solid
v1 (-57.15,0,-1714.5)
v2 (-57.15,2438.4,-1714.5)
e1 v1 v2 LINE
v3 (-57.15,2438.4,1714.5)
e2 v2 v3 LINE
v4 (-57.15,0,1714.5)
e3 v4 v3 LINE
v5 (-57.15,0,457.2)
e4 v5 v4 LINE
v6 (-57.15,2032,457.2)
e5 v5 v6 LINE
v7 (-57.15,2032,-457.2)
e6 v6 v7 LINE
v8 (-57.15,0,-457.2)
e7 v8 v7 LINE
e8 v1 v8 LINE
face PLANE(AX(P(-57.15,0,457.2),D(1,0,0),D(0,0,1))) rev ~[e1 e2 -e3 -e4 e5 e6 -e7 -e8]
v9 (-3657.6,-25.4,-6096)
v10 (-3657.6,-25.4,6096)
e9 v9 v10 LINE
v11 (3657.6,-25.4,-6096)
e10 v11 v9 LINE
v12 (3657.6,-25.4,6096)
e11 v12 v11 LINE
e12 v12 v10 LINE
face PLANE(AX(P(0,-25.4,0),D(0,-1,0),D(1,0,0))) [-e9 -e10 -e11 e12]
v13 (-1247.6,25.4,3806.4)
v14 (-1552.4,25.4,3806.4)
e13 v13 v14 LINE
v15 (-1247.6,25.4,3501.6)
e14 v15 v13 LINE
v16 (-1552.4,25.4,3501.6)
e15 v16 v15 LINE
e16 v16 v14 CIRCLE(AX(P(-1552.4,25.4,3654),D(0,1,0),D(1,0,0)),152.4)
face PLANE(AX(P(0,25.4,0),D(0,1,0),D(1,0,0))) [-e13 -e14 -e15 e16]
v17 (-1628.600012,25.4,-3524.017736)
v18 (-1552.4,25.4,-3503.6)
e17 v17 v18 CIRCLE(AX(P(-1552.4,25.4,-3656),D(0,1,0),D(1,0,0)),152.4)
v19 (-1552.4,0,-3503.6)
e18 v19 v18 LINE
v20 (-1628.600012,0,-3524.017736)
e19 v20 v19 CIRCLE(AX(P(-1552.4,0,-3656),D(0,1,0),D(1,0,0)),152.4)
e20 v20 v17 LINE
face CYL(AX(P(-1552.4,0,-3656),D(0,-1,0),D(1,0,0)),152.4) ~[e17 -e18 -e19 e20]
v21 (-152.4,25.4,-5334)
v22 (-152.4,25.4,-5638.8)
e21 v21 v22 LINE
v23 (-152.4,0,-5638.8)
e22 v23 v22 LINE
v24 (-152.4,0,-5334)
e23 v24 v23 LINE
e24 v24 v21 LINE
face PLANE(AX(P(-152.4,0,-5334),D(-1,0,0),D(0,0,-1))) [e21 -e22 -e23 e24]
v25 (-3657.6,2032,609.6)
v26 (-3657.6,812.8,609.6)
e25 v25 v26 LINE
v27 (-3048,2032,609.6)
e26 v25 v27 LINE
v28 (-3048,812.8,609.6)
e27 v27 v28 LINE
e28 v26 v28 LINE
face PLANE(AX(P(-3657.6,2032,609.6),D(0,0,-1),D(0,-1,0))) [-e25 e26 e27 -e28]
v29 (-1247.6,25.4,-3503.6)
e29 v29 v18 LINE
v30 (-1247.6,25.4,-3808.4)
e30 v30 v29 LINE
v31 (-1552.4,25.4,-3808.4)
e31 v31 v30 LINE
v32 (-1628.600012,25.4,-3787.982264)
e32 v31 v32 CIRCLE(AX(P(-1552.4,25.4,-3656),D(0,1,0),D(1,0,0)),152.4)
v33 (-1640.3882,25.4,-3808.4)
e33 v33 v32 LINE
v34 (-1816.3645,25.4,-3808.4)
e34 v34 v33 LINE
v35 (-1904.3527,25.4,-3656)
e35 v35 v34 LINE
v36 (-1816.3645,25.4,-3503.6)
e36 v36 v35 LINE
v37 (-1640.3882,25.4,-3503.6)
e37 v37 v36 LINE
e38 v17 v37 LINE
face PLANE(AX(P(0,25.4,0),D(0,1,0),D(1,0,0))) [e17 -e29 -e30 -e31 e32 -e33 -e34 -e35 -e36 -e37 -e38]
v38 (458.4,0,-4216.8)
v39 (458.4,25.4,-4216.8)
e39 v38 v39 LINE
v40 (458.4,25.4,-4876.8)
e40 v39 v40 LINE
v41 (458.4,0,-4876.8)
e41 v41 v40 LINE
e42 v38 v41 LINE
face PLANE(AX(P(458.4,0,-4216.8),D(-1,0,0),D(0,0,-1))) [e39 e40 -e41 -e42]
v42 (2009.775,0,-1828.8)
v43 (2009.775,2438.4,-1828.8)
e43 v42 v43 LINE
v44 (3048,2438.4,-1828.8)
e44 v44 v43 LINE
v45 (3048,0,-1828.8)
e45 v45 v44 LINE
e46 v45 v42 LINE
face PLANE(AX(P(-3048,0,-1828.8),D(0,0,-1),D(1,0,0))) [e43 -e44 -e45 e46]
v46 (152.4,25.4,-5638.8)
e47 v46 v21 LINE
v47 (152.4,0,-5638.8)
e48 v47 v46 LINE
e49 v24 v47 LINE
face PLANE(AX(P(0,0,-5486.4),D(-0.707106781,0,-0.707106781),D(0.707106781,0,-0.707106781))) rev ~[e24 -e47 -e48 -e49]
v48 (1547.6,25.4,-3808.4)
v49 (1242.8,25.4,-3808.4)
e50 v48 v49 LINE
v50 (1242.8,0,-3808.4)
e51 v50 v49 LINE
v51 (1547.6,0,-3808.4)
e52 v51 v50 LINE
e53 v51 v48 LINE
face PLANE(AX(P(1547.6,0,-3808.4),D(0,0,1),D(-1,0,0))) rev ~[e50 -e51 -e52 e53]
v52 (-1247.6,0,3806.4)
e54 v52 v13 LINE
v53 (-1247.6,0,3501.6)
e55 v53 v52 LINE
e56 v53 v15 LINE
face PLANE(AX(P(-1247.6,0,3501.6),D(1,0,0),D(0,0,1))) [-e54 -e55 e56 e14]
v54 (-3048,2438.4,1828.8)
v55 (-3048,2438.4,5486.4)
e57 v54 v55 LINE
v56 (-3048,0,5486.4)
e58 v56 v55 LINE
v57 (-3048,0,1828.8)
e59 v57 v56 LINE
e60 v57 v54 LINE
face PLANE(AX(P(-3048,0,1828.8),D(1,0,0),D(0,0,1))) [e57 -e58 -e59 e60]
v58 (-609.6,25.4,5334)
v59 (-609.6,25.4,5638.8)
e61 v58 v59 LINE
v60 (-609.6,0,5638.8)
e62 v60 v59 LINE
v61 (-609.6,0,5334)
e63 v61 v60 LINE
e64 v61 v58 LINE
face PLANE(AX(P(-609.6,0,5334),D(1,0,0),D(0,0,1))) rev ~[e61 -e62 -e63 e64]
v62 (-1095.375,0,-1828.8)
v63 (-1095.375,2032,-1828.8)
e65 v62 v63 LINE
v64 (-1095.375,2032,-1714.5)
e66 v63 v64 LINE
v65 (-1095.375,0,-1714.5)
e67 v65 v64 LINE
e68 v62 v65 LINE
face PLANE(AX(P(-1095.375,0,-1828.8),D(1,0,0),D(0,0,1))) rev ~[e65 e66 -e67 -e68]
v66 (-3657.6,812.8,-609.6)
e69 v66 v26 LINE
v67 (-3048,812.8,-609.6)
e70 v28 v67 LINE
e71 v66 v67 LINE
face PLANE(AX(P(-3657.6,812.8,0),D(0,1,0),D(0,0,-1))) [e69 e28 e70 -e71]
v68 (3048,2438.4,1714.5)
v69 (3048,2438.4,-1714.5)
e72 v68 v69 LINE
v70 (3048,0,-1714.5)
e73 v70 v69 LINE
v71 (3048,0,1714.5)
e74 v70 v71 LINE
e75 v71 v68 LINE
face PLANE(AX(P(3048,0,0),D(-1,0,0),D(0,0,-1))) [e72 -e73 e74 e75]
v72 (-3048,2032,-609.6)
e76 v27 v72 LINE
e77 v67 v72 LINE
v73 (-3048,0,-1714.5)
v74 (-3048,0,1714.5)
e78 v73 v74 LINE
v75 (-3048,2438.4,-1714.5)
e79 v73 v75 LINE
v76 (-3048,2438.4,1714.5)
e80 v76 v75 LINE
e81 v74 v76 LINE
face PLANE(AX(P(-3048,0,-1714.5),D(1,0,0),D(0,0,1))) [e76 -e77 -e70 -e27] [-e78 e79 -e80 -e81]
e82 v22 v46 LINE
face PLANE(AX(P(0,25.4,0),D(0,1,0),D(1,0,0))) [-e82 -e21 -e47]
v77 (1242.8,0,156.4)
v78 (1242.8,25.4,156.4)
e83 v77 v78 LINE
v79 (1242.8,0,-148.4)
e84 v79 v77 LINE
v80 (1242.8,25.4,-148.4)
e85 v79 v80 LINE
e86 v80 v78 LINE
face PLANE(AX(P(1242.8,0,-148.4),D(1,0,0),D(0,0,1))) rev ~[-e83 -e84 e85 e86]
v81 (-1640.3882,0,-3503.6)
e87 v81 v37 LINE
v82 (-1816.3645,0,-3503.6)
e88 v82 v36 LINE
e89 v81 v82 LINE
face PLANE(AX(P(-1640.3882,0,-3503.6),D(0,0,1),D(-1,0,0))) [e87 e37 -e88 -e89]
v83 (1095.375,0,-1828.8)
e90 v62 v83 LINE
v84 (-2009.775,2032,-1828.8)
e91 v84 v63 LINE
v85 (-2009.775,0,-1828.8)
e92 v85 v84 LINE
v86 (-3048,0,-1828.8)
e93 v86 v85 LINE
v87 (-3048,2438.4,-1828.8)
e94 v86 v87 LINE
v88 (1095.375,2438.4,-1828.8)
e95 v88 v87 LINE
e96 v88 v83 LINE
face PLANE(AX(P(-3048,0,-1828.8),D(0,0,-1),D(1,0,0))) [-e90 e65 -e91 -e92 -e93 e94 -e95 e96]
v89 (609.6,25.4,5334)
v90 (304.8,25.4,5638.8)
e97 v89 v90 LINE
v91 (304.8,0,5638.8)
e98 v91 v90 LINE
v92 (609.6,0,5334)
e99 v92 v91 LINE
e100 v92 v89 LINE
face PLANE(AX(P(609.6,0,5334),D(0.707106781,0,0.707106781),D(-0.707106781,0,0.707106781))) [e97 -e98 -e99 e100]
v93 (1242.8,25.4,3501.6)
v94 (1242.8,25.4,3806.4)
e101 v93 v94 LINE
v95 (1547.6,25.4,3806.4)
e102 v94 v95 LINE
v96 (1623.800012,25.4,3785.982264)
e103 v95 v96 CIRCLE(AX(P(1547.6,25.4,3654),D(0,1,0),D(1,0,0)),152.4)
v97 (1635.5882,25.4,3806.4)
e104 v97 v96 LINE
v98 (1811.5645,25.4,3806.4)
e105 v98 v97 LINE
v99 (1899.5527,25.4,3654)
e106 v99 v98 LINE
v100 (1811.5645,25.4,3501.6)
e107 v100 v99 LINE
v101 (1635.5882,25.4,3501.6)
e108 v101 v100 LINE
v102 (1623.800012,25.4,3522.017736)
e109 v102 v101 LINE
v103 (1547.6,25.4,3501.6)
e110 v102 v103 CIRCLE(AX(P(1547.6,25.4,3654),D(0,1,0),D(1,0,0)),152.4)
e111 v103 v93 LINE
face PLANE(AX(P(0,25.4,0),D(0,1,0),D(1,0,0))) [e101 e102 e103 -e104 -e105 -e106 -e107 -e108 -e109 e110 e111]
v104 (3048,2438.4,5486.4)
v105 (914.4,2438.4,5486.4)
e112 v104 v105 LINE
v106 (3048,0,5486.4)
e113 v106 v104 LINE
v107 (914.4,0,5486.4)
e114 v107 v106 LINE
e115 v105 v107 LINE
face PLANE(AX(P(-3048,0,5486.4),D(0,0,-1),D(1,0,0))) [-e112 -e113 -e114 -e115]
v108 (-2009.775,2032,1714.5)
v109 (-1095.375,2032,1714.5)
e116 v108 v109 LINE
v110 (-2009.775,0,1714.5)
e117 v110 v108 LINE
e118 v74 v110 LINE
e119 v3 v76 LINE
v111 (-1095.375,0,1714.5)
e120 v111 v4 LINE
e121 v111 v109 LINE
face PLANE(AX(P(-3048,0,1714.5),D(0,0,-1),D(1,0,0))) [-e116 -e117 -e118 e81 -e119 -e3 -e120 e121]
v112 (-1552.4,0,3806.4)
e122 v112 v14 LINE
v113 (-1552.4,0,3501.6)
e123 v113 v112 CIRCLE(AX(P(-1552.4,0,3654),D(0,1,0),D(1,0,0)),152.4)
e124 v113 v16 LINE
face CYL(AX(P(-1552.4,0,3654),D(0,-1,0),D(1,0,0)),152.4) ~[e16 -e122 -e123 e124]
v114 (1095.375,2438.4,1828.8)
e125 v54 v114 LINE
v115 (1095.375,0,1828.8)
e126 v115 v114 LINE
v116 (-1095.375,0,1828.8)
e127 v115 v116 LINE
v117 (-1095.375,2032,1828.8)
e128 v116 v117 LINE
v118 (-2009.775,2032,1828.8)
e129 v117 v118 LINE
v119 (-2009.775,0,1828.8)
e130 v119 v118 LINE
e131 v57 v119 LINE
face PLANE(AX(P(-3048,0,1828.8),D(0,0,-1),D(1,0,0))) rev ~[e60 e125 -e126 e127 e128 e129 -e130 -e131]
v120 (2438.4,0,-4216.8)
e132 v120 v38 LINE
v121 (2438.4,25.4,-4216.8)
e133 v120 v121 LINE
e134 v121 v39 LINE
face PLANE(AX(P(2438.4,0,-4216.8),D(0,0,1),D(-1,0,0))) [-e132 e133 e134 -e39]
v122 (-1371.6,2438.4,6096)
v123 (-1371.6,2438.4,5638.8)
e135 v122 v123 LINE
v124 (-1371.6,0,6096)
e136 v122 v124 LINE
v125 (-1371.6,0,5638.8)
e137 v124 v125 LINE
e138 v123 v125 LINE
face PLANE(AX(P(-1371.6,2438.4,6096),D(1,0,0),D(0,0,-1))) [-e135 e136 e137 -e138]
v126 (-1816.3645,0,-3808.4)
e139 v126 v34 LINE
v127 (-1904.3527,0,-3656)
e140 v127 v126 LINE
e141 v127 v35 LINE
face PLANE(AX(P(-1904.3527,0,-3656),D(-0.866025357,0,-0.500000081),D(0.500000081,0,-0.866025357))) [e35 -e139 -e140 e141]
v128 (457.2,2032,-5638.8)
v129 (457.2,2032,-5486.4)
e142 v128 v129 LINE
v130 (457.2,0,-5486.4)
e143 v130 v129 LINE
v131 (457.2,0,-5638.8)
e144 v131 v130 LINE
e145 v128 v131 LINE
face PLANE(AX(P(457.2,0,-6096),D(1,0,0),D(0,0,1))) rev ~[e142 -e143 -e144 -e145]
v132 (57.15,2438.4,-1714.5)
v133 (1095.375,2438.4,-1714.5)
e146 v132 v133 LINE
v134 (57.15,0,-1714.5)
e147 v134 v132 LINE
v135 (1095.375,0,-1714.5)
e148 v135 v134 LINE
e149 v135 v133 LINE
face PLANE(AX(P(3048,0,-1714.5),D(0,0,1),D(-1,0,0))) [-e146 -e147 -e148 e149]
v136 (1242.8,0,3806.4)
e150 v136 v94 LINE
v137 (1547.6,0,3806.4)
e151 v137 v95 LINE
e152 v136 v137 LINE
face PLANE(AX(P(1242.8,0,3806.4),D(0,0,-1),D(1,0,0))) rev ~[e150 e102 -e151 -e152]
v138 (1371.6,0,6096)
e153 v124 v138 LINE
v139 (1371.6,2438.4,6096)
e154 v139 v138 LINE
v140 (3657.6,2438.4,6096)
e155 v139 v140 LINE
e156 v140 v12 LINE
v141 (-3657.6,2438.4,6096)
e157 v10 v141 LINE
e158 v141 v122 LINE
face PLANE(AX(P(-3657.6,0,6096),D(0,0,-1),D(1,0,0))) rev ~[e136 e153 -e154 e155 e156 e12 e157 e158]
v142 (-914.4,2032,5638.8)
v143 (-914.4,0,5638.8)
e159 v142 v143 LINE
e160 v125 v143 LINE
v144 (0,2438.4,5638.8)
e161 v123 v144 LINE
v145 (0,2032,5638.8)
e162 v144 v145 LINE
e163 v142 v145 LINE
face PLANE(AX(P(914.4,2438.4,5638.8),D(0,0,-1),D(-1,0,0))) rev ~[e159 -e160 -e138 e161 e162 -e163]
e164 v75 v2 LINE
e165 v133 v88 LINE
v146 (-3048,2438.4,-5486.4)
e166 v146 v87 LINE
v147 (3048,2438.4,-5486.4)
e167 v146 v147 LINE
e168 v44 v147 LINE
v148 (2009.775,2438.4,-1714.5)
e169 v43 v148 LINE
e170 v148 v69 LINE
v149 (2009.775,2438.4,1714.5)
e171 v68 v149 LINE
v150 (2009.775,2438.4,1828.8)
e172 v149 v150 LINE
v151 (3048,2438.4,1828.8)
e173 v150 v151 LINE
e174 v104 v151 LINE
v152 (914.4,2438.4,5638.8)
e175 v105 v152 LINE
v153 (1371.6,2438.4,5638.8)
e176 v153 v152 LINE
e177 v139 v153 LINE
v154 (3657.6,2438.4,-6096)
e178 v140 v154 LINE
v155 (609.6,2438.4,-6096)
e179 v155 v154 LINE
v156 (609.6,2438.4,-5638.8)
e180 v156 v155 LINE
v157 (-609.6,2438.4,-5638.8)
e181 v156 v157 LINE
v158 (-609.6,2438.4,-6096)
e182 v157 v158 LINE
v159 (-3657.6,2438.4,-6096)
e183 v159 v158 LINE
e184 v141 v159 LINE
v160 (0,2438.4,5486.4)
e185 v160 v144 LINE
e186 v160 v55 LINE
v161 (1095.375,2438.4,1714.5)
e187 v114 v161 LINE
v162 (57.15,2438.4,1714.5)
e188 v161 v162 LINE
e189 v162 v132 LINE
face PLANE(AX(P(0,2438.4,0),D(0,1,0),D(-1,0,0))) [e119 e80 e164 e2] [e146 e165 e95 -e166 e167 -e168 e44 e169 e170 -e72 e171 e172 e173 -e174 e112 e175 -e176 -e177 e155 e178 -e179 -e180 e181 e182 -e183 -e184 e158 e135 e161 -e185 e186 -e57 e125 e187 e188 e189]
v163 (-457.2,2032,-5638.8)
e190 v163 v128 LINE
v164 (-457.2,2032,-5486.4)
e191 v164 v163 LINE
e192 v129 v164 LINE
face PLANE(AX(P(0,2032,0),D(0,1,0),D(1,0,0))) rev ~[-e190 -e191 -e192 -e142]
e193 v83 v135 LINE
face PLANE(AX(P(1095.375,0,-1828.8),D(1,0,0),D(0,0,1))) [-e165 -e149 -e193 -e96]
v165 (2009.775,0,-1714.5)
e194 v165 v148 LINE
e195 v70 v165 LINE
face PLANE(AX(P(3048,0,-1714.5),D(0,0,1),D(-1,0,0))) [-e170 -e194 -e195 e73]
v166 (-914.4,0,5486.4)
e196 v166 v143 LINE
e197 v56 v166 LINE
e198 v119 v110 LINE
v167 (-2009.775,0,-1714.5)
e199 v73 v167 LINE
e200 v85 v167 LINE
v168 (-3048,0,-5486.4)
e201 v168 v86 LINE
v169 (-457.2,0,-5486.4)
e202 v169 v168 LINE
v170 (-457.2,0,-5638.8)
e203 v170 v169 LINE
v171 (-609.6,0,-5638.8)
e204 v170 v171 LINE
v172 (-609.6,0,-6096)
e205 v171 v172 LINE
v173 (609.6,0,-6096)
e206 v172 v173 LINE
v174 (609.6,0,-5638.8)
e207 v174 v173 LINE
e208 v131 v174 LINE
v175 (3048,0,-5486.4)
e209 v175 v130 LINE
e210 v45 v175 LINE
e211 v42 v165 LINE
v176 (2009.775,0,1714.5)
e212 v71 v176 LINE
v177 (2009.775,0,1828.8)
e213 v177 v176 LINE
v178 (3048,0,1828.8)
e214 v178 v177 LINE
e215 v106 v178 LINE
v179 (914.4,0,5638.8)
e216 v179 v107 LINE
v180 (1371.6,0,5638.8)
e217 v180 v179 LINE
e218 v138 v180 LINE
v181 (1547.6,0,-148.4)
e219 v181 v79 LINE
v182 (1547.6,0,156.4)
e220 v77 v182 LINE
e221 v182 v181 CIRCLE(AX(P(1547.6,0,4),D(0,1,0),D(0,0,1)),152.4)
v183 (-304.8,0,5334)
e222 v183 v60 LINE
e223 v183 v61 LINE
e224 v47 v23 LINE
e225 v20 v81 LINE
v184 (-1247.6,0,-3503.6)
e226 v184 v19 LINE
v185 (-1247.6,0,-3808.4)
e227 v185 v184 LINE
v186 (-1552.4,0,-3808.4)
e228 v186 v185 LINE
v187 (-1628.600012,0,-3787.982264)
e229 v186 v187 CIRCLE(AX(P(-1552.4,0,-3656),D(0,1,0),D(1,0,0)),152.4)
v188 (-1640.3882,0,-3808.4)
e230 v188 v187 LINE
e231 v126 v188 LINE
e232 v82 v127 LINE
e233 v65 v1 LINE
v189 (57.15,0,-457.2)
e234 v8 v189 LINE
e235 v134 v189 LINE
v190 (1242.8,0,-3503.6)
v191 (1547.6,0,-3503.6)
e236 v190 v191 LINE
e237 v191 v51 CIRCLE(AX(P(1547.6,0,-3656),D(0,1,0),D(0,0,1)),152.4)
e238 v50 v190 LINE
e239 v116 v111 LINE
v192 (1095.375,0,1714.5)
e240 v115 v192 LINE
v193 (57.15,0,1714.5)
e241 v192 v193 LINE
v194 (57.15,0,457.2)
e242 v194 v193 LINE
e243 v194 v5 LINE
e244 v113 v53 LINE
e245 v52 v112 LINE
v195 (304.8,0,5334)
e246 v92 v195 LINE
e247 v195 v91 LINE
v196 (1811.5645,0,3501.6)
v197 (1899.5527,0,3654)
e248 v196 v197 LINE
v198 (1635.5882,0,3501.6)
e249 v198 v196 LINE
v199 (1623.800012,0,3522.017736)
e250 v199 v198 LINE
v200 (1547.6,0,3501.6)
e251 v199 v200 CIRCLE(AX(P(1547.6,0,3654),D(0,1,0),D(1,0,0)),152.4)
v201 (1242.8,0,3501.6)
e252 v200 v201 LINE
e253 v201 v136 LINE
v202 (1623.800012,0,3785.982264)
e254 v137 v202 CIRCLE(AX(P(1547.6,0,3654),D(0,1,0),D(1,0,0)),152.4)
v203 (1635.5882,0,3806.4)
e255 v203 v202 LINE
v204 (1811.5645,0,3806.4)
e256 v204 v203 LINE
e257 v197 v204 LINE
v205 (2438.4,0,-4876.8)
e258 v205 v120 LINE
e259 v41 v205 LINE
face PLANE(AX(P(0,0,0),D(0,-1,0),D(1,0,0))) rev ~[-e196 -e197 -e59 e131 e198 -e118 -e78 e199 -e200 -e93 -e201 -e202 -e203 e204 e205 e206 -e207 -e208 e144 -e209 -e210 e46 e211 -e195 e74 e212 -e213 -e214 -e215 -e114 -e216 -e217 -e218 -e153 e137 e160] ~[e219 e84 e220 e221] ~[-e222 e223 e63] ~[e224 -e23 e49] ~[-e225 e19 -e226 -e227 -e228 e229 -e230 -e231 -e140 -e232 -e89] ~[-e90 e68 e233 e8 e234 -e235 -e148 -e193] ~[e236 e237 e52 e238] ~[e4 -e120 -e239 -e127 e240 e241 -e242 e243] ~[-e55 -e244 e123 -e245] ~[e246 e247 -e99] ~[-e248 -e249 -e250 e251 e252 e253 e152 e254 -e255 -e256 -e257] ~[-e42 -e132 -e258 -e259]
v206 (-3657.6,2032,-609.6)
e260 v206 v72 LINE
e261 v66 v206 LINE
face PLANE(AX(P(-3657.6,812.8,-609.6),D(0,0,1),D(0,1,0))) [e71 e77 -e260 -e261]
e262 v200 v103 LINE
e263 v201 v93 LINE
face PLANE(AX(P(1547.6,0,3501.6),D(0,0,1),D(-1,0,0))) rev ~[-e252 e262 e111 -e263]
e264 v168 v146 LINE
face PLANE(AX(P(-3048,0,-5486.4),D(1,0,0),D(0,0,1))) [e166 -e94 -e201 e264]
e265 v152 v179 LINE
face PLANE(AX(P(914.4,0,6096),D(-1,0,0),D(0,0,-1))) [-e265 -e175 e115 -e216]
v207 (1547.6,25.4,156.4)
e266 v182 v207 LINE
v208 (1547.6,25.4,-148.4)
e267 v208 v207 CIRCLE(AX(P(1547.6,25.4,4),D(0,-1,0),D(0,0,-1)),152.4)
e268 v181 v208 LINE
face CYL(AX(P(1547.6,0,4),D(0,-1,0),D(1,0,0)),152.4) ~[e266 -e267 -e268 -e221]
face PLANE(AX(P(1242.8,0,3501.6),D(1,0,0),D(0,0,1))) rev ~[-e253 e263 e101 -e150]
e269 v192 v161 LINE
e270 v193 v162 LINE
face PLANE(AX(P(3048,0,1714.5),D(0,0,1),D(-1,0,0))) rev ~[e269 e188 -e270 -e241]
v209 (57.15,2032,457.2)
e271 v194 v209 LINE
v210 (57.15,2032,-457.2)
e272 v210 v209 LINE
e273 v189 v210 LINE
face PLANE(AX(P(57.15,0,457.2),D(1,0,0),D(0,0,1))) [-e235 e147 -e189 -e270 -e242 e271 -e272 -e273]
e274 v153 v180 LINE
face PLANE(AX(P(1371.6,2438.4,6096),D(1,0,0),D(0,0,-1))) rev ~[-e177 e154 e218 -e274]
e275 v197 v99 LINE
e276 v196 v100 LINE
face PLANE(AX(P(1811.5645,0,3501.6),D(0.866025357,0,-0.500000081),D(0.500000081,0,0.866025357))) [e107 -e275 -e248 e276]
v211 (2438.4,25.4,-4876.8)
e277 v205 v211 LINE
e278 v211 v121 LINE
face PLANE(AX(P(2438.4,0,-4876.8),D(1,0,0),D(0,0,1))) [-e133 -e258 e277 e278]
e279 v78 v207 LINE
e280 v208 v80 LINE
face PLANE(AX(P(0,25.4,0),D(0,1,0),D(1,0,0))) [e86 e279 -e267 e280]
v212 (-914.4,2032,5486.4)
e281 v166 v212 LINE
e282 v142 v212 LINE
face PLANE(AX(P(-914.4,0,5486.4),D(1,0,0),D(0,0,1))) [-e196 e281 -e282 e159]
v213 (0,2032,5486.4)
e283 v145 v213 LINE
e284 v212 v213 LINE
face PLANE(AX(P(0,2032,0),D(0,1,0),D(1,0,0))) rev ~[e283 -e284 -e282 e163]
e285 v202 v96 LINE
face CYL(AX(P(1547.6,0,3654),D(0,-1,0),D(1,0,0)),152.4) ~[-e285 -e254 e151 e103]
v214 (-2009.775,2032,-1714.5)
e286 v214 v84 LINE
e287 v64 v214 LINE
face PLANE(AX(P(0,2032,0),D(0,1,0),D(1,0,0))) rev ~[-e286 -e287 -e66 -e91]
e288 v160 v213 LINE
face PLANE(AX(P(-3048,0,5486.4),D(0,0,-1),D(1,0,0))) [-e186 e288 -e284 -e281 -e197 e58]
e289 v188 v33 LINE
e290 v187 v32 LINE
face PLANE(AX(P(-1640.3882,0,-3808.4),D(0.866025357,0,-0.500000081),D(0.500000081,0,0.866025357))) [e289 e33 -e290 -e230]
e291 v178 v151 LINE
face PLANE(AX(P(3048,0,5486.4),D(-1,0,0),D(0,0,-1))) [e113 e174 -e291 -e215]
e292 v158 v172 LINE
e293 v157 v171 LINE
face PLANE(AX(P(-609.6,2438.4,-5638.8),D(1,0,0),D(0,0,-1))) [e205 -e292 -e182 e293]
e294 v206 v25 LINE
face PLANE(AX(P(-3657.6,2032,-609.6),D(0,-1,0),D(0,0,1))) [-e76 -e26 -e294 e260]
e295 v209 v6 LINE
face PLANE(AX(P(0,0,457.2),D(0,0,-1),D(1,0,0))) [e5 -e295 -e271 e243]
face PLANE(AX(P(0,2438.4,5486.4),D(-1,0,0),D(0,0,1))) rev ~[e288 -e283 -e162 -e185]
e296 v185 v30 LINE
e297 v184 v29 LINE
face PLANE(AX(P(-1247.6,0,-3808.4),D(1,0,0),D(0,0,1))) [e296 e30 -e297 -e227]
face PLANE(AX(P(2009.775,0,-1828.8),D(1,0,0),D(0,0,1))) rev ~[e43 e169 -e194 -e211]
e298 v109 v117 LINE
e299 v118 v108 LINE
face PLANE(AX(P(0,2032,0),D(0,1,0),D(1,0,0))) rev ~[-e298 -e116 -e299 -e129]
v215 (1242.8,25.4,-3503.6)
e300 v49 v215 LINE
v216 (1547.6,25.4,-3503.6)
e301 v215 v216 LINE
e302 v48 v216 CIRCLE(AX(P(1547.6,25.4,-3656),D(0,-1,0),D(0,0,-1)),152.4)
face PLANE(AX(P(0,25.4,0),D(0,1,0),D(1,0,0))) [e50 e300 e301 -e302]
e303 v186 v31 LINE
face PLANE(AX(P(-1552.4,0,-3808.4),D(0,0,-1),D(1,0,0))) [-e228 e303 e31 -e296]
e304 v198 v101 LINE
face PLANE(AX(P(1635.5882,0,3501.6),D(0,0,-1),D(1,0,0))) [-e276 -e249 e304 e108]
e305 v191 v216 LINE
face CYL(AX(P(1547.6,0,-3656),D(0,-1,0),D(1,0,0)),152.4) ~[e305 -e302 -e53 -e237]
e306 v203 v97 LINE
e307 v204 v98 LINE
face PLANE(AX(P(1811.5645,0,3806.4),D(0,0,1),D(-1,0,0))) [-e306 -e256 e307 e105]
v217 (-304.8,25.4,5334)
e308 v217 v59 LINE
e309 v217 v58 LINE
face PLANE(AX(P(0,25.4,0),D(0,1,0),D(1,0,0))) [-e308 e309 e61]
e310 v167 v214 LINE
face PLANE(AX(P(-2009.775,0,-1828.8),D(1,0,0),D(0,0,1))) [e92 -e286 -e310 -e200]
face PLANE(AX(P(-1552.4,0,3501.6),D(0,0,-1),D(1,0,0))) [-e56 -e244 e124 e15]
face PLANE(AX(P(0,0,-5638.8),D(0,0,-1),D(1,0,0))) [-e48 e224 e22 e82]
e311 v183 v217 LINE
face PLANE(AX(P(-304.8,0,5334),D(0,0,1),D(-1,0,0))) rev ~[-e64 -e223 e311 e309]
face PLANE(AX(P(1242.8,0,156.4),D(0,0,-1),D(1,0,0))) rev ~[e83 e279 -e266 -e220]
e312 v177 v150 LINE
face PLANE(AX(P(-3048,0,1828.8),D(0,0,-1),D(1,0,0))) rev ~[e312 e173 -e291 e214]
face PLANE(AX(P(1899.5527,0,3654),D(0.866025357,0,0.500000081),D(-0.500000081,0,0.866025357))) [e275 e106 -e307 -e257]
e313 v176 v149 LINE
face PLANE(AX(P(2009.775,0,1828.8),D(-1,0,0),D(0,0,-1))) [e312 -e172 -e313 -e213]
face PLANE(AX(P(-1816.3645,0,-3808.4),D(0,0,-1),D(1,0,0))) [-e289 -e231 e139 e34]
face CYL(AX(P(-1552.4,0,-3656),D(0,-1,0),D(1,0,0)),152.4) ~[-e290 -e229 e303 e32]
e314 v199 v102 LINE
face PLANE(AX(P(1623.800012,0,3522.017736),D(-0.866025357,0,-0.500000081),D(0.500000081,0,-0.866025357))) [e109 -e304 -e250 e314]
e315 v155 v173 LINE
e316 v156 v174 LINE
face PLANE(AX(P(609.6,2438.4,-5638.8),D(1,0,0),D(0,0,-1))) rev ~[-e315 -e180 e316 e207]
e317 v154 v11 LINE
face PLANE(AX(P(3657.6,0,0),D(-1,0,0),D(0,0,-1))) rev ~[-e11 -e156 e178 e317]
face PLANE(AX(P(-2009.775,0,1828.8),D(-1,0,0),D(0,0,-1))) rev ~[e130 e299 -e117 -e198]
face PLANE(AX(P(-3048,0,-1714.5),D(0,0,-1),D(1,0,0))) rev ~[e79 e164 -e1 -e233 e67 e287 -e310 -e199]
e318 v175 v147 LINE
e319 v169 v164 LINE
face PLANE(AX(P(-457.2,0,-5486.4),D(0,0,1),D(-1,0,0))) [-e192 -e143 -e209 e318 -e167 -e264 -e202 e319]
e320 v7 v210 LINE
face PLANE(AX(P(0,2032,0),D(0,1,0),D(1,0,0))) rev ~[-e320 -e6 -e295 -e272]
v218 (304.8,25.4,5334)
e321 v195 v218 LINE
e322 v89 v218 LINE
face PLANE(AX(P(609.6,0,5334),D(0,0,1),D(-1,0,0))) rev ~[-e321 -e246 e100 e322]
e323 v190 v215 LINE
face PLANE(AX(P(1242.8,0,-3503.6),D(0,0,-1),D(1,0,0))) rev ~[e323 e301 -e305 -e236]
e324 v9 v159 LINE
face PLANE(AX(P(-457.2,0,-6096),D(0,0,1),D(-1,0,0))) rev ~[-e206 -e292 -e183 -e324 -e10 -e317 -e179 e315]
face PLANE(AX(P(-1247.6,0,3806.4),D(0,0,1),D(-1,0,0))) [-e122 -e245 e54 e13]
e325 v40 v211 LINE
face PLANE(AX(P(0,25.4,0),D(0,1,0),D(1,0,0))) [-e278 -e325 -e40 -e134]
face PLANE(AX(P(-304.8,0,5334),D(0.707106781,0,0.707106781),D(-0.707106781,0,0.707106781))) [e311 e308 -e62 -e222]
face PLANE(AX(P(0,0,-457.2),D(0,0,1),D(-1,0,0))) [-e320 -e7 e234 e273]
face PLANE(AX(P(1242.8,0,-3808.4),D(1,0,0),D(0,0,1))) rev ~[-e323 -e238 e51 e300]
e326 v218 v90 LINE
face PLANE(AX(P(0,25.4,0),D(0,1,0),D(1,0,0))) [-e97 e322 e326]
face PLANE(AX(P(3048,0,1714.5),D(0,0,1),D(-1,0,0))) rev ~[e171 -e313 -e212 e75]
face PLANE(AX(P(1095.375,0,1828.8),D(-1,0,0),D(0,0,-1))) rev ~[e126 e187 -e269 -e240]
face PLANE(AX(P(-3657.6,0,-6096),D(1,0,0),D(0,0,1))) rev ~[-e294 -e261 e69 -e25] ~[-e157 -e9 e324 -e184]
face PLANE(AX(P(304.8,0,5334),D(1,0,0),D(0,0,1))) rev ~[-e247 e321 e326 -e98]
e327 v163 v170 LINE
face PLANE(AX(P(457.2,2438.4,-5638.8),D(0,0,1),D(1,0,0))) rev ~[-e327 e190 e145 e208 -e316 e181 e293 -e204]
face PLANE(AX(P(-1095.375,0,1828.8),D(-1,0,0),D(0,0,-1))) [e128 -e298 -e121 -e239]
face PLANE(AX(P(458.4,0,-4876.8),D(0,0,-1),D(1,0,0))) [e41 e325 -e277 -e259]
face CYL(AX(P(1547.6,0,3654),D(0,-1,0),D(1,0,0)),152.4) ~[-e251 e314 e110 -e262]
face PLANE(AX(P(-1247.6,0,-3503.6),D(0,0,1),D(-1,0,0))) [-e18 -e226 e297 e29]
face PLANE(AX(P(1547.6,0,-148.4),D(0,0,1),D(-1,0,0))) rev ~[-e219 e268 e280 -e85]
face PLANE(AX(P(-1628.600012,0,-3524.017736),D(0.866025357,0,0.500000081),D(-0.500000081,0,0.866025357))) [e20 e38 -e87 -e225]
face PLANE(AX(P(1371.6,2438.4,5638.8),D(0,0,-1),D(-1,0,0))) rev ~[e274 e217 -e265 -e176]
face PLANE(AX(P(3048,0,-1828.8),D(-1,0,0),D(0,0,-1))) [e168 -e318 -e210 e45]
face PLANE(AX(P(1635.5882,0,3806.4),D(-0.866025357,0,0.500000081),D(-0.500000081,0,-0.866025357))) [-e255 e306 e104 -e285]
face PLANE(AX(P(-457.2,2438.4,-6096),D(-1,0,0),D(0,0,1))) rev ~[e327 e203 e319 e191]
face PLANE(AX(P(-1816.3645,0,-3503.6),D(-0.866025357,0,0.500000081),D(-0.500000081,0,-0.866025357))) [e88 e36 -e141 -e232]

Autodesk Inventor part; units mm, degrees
ref_plane "YZ Plane" through (0, 0, 0) normal (1, 0, 0) x (0, 1, 0)
ref_plane "XZ Plane" through (0, 0, 0) normal (0, 1, 0) x (-1, 0, 0)
ref_plane "XY Plane" through (0, 0, 0) normal (0, 0, 1) x (1, 0, 0)
sketch "Sketch1" plane through (0, 0, 0) normal (0, 1, 0) x (-1, 0, 0)
  line L0 (3657.6, -6096) -> (3657.6, 6096)
  line L1 (-3657.6, 6096) -> (-3657.6, -6096)
  line L2 (-5120.64, 0) -> (5120.64, 0)
  line L3 (0, -32361.8278) -> (0, 33209.6743)
  line L4 (-3048, 1714.5) -> (-3048, -1714.5)
  line L5 (3048, -5486.4) -> (3048, -1828.8)
  line L6 (3048, -1714.5) -> (3048, 1714.5)
  line L7 (3048, 1828.8) -> (3048, 5486.4)
  line L8 (-3048, -1828.8) -> (-3048, -5486.4)
  line L9 (-3048, 5486.4) -> (-3048, 1828.8)
  line L10 (-3048, 1714.5) -> (-3048, -1714.5)
  line L11 (-2009.775, -1828.8) -> (-2009.775, -1714.5)
  line L12 (-1095.375, -1828.8) -> (-1095.375, -1714.5)
  line L13 (-3048, -1714.5) -> (-2009.775, -1714.5)
  line L14 (-1095.375, -1714.5) -> (-57.15, -1714.5)
  line L15 (-3048, -1828.8) -> (-2009.775, -1828.8)
  line L16 (2009.775, -1828.8) -> (2009.775, -1714.5)
  line L17 (1095.375, -1828.8) -> (1095.375, -1714.5)
  line L18 (3048, -1714.5) -> (2009.775, -1714.5)
  line L19 (1095.375, -1714.5) -> (57.15, -1714.5)
  line L20 (3048, -1828.8) -> (2009.775, -1828.8)
  line L21 (1095.375, -1828.8) -> (-1095.375, -1828.8)
  line L22 (-2009.775, -1828.8) -> (-3048, -1828.8)
  line L23 (-1095.375, -1828.8) -> (1095.375, -1828.8)
  line L24 (2009.775, -1828.8) -> (3048, -1828.8)
  line L25 (57.15, -1714.5) -> (1095.375, -1714.5)
  line L26 (2009.775, -1714.5) -> (3048, -1714.5)
  line L27 (-2009.775, 1828.8) -> (-2009.775, 1714.5)
  line L28 (-1095.375, 1828.8) -> (-1095.375, 1714.5)
  line L29 (-3048, 1714.5) -> (-2009.775, 1714.5)
  line L30 (-1095.375, 1714.5) -> (-57.15, 1714.5)
  line L31 (-3048, 1828.8) -> (-2009.775, 1828.8)
  line L32 (3048, 1714.5) -> (2009.775, 1714.5)
  line L33 (3048, 1828.8) -> (2009.775, 1828.8)
  line L34 (2009.775, 1828.8) -> (2009.775, 1714.5)
  line L35 (1095.375, 1828.8) -> (1095.375, 1714.5)
  line L36 (1095.375, 1714.5) -> (57.15, 1714.5)
  line L37 (1095.375, 1828.8) -> (-1095.375, 1828.8)
  line L38 (-2009.775, 1828.8) -> (-3048, 1828.8)
  line L39 (-1095.375, 1828.8) -> (1095.375, 1828.8)
  line L40 (2009.775, 1828.8) -> (3048, 1828.8)
  line L41 (57.15, 1714.5) -> (1095.375, 1714.5)
  line L42 (2009.775, 1714.5) -> (3048, 1714.5)
  line L43 (-57.15, -457.2) -> (57.15, -457.2)
  line L44 (57.15, 457.2) -> (-57.15, 457.2)
  line L45 (-457.2, -6096) -> (-457.2, -5486.4)
  line L46 (457.2, -6096) -> (457.2, -5486.4)
  line L47 (-3048, -5486.4) -> (-457.2, -5486.4)
  line L48 (457.2, -5486.4) -> (3048, -5486.4)
  line L49 (-3657.6, -6096) -> (-457.2, -6096)
  line L50 (457.2, -6096) -> (3657.6, -6096)
  line L51 (914.4, 5486.4) -> (914.4, 6096)
  line L52 (-914.4, 6096) -> (-914.4, 5486.4)
  line L53 (3048, 5486.4) -> (914.4, 5486.4)
  line L54 (-914.4, 5486.4) -> (-3048, 5486.4)
  line L55 (3657.6, 6096) -> (914.4, 6096)
  line L56 (-914.4, 6096) -> (-3657.6, 6096)
  line L57 (-57.15, -1714.5) -> (-57.15, -457.2)
  line L58 (-57.15, 457.2) -> (-57.15, 1714.5)
  line L59 (-57.15, 1714.5) -> (-57.15, 457.2)
  line L60 (-57.15, -457.2) -> (-57.15, -1714.5)
  line L61 (57.15, -1714.5) -> (57.15, -457.2)
  line L62 (57.15, 457.2) -> (57.15, 1714.5)
  line L63 (57.15, 1714.5) -> (57.15, 457.2)
  line L64 (57.15, -457.2) -> (57.15, -1714.5)
  line L65 (-3048, 5486.4) -> (-3048, 1828.8)
  line L66 (-3048, 1828.8) -> (-2009.775, 1828.8)
  line L67 (-2009.775, 1828.8) -> (-2009.775, 1714.5)
  line L68 (-2009.775, 1714.5) -> (-3048, 1714.5)
  line L69 (-3048, 1714.5) -> (-3048, -1714.5)
  line L70 (-3048, -1714.5) -> (-2009.775, -1714.5)
  line L71 (-2009.775, -1714.5) -> (-2009.775, -1828.8)
  line L72 (-2009.775, -1828.8) -> (-3048, -1828.8)
  line L73 (-3048, -1828.8) -> (-3048, -5486.4)
  line L74 (-3048, -5486.4) -> (-457.2, -5486.4)
  line L75 (457.2, -5486.4) -> (3048, -5486.4)
  line L76 (3048, -5486.4) -> (3048, -1828.8)
  line L77 (3048, -1828.8) -> (2009.775, -1828.8)
  line L78 (2009.775, -1828.8) -> (2009.775, -1714.5)
  line L79 (2009.775, -1714.5) -> (3048, -1714.5)
  line L80 (3048, 1714.5) -> (3048, -1714.5)
  line L81 (3048, 1714.5) -> (2009.775, 1714.5)
  line L82 (2009.775, 1714.5) -> (2009.775, 1828.8)
  line L83 (2009.775, 1828.8) -> (3048, 1828.8)
  line L84 (3048, 1828.8) -> (3048, 5486.4)
  point P0 (0, 0)
  point P1 (0, 32361.8278)
  point P2 (0, -33209.6743)
  dimension "d2" = 7315.2
  dimension "d10" = 609.6
  dimension "d13" = 1038.225
  dimension "d14" = 914.4
  dimension "d17" = 114.3
  dimension "d18" = 1038.225
  dimension "d19" = 1038.225
  dimension "d20" = 914.4
  dimension "d21" = 914.4
  dimension "d23" = 609.6
  dimension "d24" = 4267.2
  dimension "d25" = 1828.8
  dimension "d26" = 12192
  dimension "d27" = 609.6
  dimension "d28" = 114.3
extrude "Extrusion1" add sketch "Sketch1" along normal blind 2438.4
sketch "Sketch2" plane through (-3657.6, 0, -6096) normal (-1, 0, 0) x (0, 0, 1)
  line L0 (0, 0) -> (12192, 0)
  line L1 (5486.4, 2032) -> (6705.6, 2032)
  line L2 (6705.6, 2032) -> (6705.6, 812.8)
  line L3 (6705.6, 812.8) -> (5486.4, 812.8)
  line L4 (5486.4, 812.8) -> (5486.4, 2032)
  line L5 (6096, 2926.08) -> (6096, -487.68)
  point P0 (6096, 0)
  dimension "d31" = 1219.2
  dimension "d33" = 1219.2
  dimension "d34" = 812.8
extrude "Extrusion2" cut sketch "Sketch2" against normal up to surface (609.6 mm away)
sketch "Sketch3" plane through (0, 2438.4, 0) normal (0, 1, 0) x (1, 0, 0)
  line L0 (57.15, 1714.5) -> (1095.375, 1714.5)
  line L1 (1095.375, 1714.5) -> (1095.375, 1828.8)
  line L2 (1095.375, 1828.8) -> (-1095.375, 1828.8)
  line L3 (-1095.375, 1828.8) -> (-1095.375, 1714.5)
  line L4 (-1095.375, 1714.5) -> (-57.15, 1714.5)
  line L5 (-57.15, 1714.5) -> (-57.15, 457.2)
  line L6 (-57.15, 457.2) -> (57.15, 457.2)
  line L7 (57.15, 457.2) -> (57.15, 1714.5)
  line L8 (-57.15, -1714.5) -> (-1095.375, -1714.5)
  line L9 (-1095.375, -1714.5) -> (-1095.375, -1828.8)
  line L10 (-1095.375, -1828.8) -> (1095.375, -1828.8)
  line L11 (1095.375, -1828.8) -> (1095.375, -1714.5)
  line L12 (1095.375, -1714.5) -> (57.15, -1714.5)
  line L13 (57.15, -1714.5) -> (57.15, -457.2)
  line L14 (57.15, -457.2) -> (-57.15, -457.2)
  line L15 (-57.15, -457.2) -> (-57.15, -1714.5)
  line L16 (3657.6, 6096) -> (457.2, 6096)
  line L17 (457.2, 6096) -> (457.2, 5486.4)
  line L18 (457.2, 5486.4) -> (3048, 5486.4)
  line L19 (3048, 5486.4) -> (3048, 1828.8)
  line L20 (3048, 1828.8) -> (2009.775, 1828.8)
  line L21 (2009.775, 1828.8) -> (2009.775, 1714.5)
  line L22 (2009.775, 1714.5) -> (3048, 1714.5)
  line L23 (3048, 1714.5) -> (3048, -1714.5)
  line L24 (3048, -1714.5) -> (2009.775, -1714.5)
  line L25 (2009.775, -1714.5) -> (2009.775, -1828.8)
  line L26 (2009.775, -1828.8) -> (3048, -1828.8)
  line L27 (3048, -1828.8) -> (3048, -5486.4)
  line L28 (3048, -5486.4) -> (914.4, -5486.4)
  line L29 (914.4, -5486.4) -> (914.4, -6096)
  line L30 (914.4, -6096) -> (3657.6, -6096)
  line L31 (3657.6, -6096) -> (3657.6, 6096)
  line L32 (-457.2, 6096) -> (457.2, 6096)
  line L33 (457.2, 6096) -> (457.2, 5486.4)
  line L34 (457.2, 5486.4) -> (-457.2, 5486.4)
  line L35 (-457.2, 5486.4) -> (-457.2, 6096)
  line L36 (-2009.775, 1828.8) -> (-1095.375, 1828.8)
  line L37 (-1095.375, 1828.8) -> (-1095.375, 1714.5)
  line L38 (-1095.375, 1714.5) -> (-2009.775, 1714.5)
  line L39 (-2009.775, 1714.5) -> (-2009.775, 1828.8)
  line L40 (1095.375, 1828.8) -> (2009.775, 1828.8)
  line L41 (2009.775, 1828.8) -> (2009.775, 1714.5)
  line L42 (2009.775, 1714.5) -> (1095.375, 1714.5)
  line L43 (1095.375, 1714.5) -> (1095.375, 1828.8)
  line L44 (-57.15, 457.2) -> (57.15, 457.2)
  line L45 (57.15, 457.2) -> (57.15, -457.2)
  line L46 (57.15, -457.2) -> (-57.15, -457.2)
  line L47 (-57.15, -457.2) -> (-57.15, 457.2)
  line L48 (1095.375, -1714.5) -> (2009.775, -1714.5)
  line L49 (2009.775, -1714.5) -> (2009.775, -1828.8)
  line L50 (2009.775, -1828.8) -> (1095.375, -1828.8)
  line L51 (1095.375, -1828.8) -> (1095.375, -1714.5)
  line L52 (-2009.775, -1714.5) -> (-1095.375, -1714.5)
  line L53 (-1095.375, -1714.5) -> (-1095.375, -1828.8)
  line L54 (-1095.375, -1828.8) -> (-2009.775, -1828.8)
  line L55 (-2009.775, -1828.8) -> (-2009.775, -1714.5)
  line L56 (-914.4, -5486.4) -> (914.4, -5486.4)
  line L57 (914.4, -5486.4) -> (914.4, -6096)
  line L58 (914.4, -6096) -> (-914.4, -6096)
  line L59 (-914.4, -6096) -> (-914.4, -5486.4)
  line L60 (1095.375, 1828.8) -> (2009.775, 1828.8)
  line L61 (2009.775, 1828.8) -> (2009.775, 1714.5)
  line L62 (2009.775, 1714.5) -> (1095.375, 1714.5)
  line L63 (1095.375, 1714.5) -> (1095.375, 1828.8)
  point P0 (0, 0)
extrude "Extrusion3" add sketch "Sketch3" against normal blind 406.4 contours L1 L40 L21 L42 | L45 L14 L47 L6 | L3 L38 L39 L36 | L48 L25 L50 L11 | L9 L54 L55 L52 | L34 L35 L32 L17 | L29 L58 L59 L56
sketch "Sketch5" plane through (0, 0, 0) normal (0, -1, 0) x (1, 0, 0)
  line L0 (3657.6, -6096) -> (457.2, -6096)
  line L1 (3657.6, 6096) -> (3657.6, -6096)
  line L2 (914.4, 6096) -> (3657.6, 6096)
  line L3 (914.4, 5486.4) -> (914.4, 6096)
  line L4 (3048, 5486.4) -> (914.4, 5486.4)
  line L5 (3048, 1828.8) -> (3048, 5486.4)
  line L6 (2009.775, 1828.8) -> (3048, 1828.8)
  line L7 (2009.775, 1714.5) -> (2009.775, 1828.8)
  line L8 (3048, 1714.5) -> (2009.775, 1714.5)
  line L9 (3048, -1714.5) -> (3048, 1714.5)
  line L10 (2009.775, -1714.5) -> (3048, -1714.5)
  line L11 (2009.775, -1828.8) -> (2009.775, -1714.5)
  line L12 (3048, -1828.8) -> (2009.775, -1828.8)
  line L13 (3048, -5486.4) -> (3048, -1828.8)
  line L14 (457.2, -5486.4) -> (3048, -5486.4)
  line L15 (457.2, -6096) -> (457.2, -5486.4)
  line L16 (-3657.6, 6096) -> (3657.6, 6096)
  line L17 (3657.6, 6096) -> (3657.6, -6096)
  line L18 (3657.6, -6096) -> (-3657.6, -6096)
  line L19 (-3657.6, -6096) -> (-3657.6, 6096)
  point P0 (0, 0)
extrude "Extrusion5" add sketch "Sketch5" along normal blind 25.4
sketch "Sketch6" plane through (0, 2438.4, 0) normal (0, 1, 0) x (1, 0, 0)
  line L0 (-3048, 5486.4) -> (3048, 5486.4)
  line L1 (3048, -5486.4) -> (-3048, -5486.4)
  line L2 (457.2, 5486.4) -> (457.2, 6096)
  line L3 (-457.2, 6096) -> (-457.2, 5486.4)
  line L4 (-914.4, -6096) -> (-914.4, -5486.4)
  line L5 (914.4, -6096) -> (-914.4, -6096)
  line L6 (914.4, -5486.4) -> (914.4, -6096)
  line L7 (3048, -5486.4) -> (914.4, -5486.4)
  line L8 (3048, -1828.8) -> (3048, -5486.4)
  line L9 (2009.775, -1828.8) -> (3048, -1828.8)
  line L10 (2009.775, -1714.5) -> (2009.775, -1828.8)
  line L11 (3048, -1714.5) -> (2009.775, -1714.5)
  line L12 (3048, 1714.5) -> (3048, -1714.5)
  line L13 (2009.775, 1714.5) -> (3048, 1714.5)
  line L14 (2009.775, 1828.8) -> (2009.775, 1714.5)
  line L15 (3048, 1828.8) -> (2009.775, 1828.8)
  line L16 (3048, 5486.4) -> (3048, 1828.8)
  line L17 (457.2, 5486.4) -> (3048, 5486.4)
  line L18 (457.2, 6096) -> (457.2, 5486.4)
  line L19 (-457.2, 6096) -> (457.2, 6096)
  line L20 (-457.2, 5486.4) -> (-457.2, 6096)
  line L21 (-3048, 5486.4) -> (-457.2, 5486.4)
  line L22 (-3048, 1828.8) -> (-3048, 5486.4)
  line L23 (-2009.775, 1828.8) -> (-3048, 1828.8)
  line L24 (-2009.775, 1714.5) -> (-2009.775, 1828.8)
  line L25 (-3048, 1714.5) -> (-2009.775, 1714.5)
  line L26 (-3048, -1714.5) -> (-3048, 1714.5)
  line L27 (-2009.775, -1714.5) -> (-3048, -1714.5)
  line L28 (-2009.775, -1828.8) -> (-2009.775, -1714.5)
  line L29 (-3048, -1828.8) -> (-2009.775, -1828.8)
  line L30 (-3048, -5486.4) -> (-3048, -1828.8)
  line L31 (-914.4, -5486.4) -> (-3048, -5486.4)
  line L32 (1095.375, -1714.5) -> (57.15, -1714.5)
  line L33 (1095.375, -1828.8) -> (1095.375, -1714.5)
  line L34 (-1095.375, -1828.8) -> (1095.375, -1828.8)
  line L35 (-1095.375, -1714.5) -> (-1095.375, -1828.8)
  line L36 (-57.15, -1714.5) -> (-1095.375, -1714.5)
  line L37 (-57.15, -457.2) -> (-57.15, -1714.5)
  line L38 (57.15, -457.2) -> (-57.15, -457.2)
  line L39 (57.15, -1714.5) -> (57.15, -457.2)
  line L40 (-57.15, 457.2) -> (57.15, 457.2)
  line L41 (-57.15, 1714.5) -> (-57.15, 457.2)
  line L42 (-1095.375, 1714.5) -> (-57.15, 1714.5)
  line L43 (-1095.375, 1828.8) -> (-1095.375, 1714.5)
  line L44 (1095.375, 1828.8) -> (-1095.375, 1828.8)
  line L45 (1095.375, 1714.5) -> (1095.375, 1828.8)
  line L46 (57.15, 1714.5) -> (1095.375, 1714.5)
  line L47 (57.15, 457.2) -> (57.15, 1714.5)
  line L48 (-457.2, 6096) -> (457.2, 6096)
  line L49 (457.2, 6096) -> (457.2, 5638.8)
  line L50 (457.2, 5638.8) -> (-457.2, 5638.8)
  line L51 (-457.2, 5638.8) -> (-457.2, 6096)
  line L52 (-914.4, -6096) -> (914.4, -6096)
  line L53 (914.4, -6096) -> (914.4, -5638.8)
  line L54 (914.4, -5638.8) -> (-914.4, -5638.8)
  line L55 (-914.4, -5638.8) -> (-914.4, -6096)
  point P0 (0, 0)
  dimension "d46" = 152.4
  dimension "d47" = 152.4
extrude "Extrusion6" cut sketch "Sketch6" against normal up to next contours L3 L19 L2 L50 | L54 L6 L5 L4
sketch "Sketch7" plane through (0, 2438.4, 0) normal (0, 1, 0) x (1, 0, 0)
  line L0 (-914.4, -5638.8) -> (914.4, -5638.8)
  line L1 (3048, -5486.4) -> (-3048, -5486.4)
  line L2 (0, -5638.8) -> (914.4, -5638.8)
  line L3 (914.4, -5638.8) -> (914.4, -5486.4)
  line L4 (914.4, -5486.4) -> (0, -5486.4)
  line L5 (0, -5486.4) -> (0, -5638.8)
  point P0 (0, 0)
extrude "Extrusion7" cut sketch "Sketch7" against normal up to next
sketch "Sketch8" plane through (0, 2438.4, 0) normal (0, 1, 0) x (1, 0, 0)
  line L0 (3657.6, 6096) -> (457.2, 6096)
  line L1 (-457.2, 5638.8) -> (-457.2, 6096)
  line L2 (-457.2, 6096) -> (-3657.6, 6096)
  line L3 (-914.4, -6096) -> (-914.4, -5638.8)
  line L4 (-914.4, -5638.8) -> (0, -5638.8)
  line L5 (-914.4, -6096) -> (-1371.6, -6096)
  line L6 (-1371.6, -6096) -> (-1371.6, -5638.8)
  line L7 (-1371.6, -5638.8) -> (-914.4, -5638.8)
  line L8 (-914.4, -5638.8) -> (-914.4, -6096)
  line L9 (914.4, -6096) -> (1371.6, -6096)
  line L10 (1371.6, -6096) -> (1371.6, -5638.8)
  line L11 (1371.6, -5638.8) -> (914.4, -5638.8)
  line L12 (914.4, -5638.8) -> (914.4, -6096)
  line L13 (457.2, 5638.8) -> (609.6, 5638.8)
  line L14 (609.6, 5638.8) -> (609.6, 6096)
  line L15 (609.6, 6096) -> (457.2, 6096)
  line L16 (457.2, 6096) -> (457.2, 5638.8)
  line L17 (-457.2, 5638.8) -> (-609.6, 5638.8)
  line L18 (-609.6, 5638.8) -> (-609.6, 6096)
  line L19 (-609.6, 6096) -> (-457.2, 6096)
  line L20 (-457.2, 6096) -> (-457.2, 5638.8)
  point P0 (0, 0)
  dimension "d52" = 457.2
  dimension "d53" = 457.2
  dimension "d54" = 152.4
  dimension "d55" = 152.4
extrude "Extrusion8" cut sketch "Sketch8" against normal up to surface (2438.4 mm away)
sketch "Sketch9" plane through (0, 2438.4, 0) normal (0, 1, 0) x (1, 0, 0)
  line L0 (1095.375, -1714.5) -> (57.15, -1714.5)
  line L1 (1095.375, -1828.8) -> (1095.375, -1714.5)
  line L2 (-1095.375, -1828.8) -> (1095.375, -1828.8)
  line L3 (-1095.375, -1714.5) -> (-1095.375, -1828.8)
  line L4 (-57.15, -1714.5) -> (-1095.375, -1714.5)
  line L5 (-57.15, -457.2) -> (-57.15, -1714.5)
  line L6 (57.15, -457.2) -> (-57.15, -457.2)
  line L7 (57.15, -1714.5) -> (57.15, -457.2)
  line L8 (-57.15, 457.2) -> (57.15, 457.2)
  line L9 (-57.15, 1714.5) -> (-57.15, 457.2)
  line L10 (-1095.375, 1714.5) -> (-57.15, 1714.5)
  line L11 (-1095.375, 1828.8) -> (-1095.375, 1714.5)
  line L12 (1095.375, 1828.8) -> (-1095.375, 1828.8)
  line L13 (1095.375, 1714.5) -> (1095.375, 1828.8)
  line L14 (57.15, 1714.5) -> (1095.375, 1714.5)
  line L15 (57.15, 457.2) -> (57.15, 1714.5)
  line L16 (914.4, -5486.4) -> (914.4, -5638.8)
  line L17 (3048, -5486.4) -> (914.4, -5486.4)
  line L18 (3048, -1828.8) -> (3048, -5486.4)
  line L19 (2009.775, -1828.8) -> (3048, -1828.8)
  line L20 (2009.775, -1714.5) -> (2009.775, -1828.8)
  line L21 (3048, -1714.5) -> (2009.775, -1714.5)
  line L22 (3048, 1714.5) -> (3048, -1714.5)
  line L23 (2009.775, 1714.5) -> (3048, 1714.5)
  line L24 (2009.775, 1828.8) -> (2009.775, 1714.5)
  line L25 (3048, 1828.8) -> (2009.775, 1828.8)
  line L26 (3048, 5486.4) -> (3048, 1828.8)
  line L27 (457.2, 5486.4) -> (3048, 5486.4)
  line L28 (457.2, 5638.8) -> (457.2, 5486.4)
  line L29 (609.6, 5638.8) -> (457.2, 5638.8)
  line L30 (609.6, 6096) -> (609.6, 5638.8)
  line L31 (-609.6, 6096) -> (609.6, 6096)
  line L32 (-609.6, 5638.8) -> (-609.6, 6096)
  line L33 (-457.2, 5638.8) -> (-609.6, 5638.8)
  line L34 (-457.2, 5486.4) -> (-457.2, 5638.8)
  line L35 (-3048, 5486.4) -> (-457.2, 5486.4)
  line L36 (-3048, 1828.8) -> (-3048, 5486.4)
  line L37 (-2009.775, 1828.8) -> (-3048, 1828.8)
  line L38 (-2009.775, 1714.5) -> (-2009.775, 1828.8)
  line L39 (-3048, 1714.5) -> (-2009.775, 1714.5)
  line L40 (-3048, -1714.5) -> (-3048, 1714.5)
  line L41 (-2009.775, -1714.5) -> (-3048, -1714.5)
  line L42 (-2009.775, -1828.8) -> (-2009.775, -1714.5)
  line L43 (-3048, -1828.8) -> (-2009.775, -1828.8)
  line L44 (-3048, -5486.4) -> (-3048, -1828.8)
  line L45 (-914.4, -5486.4) -> (-3048, -5486.4)
  line L46 (-914.4, -5638.8) -> (-914.4, -5486.4)
  line L47 (-1371.6, -5638.8) -> (-914.4, -5638.8)
  line L48 (-1371.6, -6096) -> (-1371.6, -5638.8)
  line L49 (1371.6, -6096) -> (-1371.6, -6096)
  line L50 (1371.6, -5638.8) -> (1371.6, -6096)
  line L51 (914.4, -5638.8) -> (1371.6, -5638.8)
  line L52 (1095.375, 1828.8) -> (2009.775, 1828.8)
  line L53 (2009.775, 1828.8) -> (2009.775, 1714.5)
  line L54 (2009.775, 1714.5) -> (1095.375, 1714.5)
  line L55 (1095.375, 1714.5) -> (1095.375, 1828.8)
  line L56 (1095.375, -1714.5) -> (2009.775, -1714.5)
  line L57 (2009.775, -1714.5) -> (2009.775, -1828.8)
  line L58 (2009.775, -1828.8) -> (1095.375, -1828.8)
  line L59 (1095.375, -1828.8) -> (1095.375, -1714.5)
  point P0 (0, 0)
extrude "Extrusion9" cut sketch "Sketch9" against normal up to next contours L56 L20 L58 L1 | L54 L13 L52 L24
sketch "Open Doors" plane through (0, 0, 0) normal (0, 1, 0) x (1, 0, 0)
  line L0 (2009.775, -1714.5) -> (2009.775, -1828.8)
  line L1 (3048, -1714.5) -> (2009.775, -1714.5)
  line L2 (3048, 1714.5) -> (3048, -1714.5)
  line L3 (2009.775, 1714.5) -> (3048, 1714.5)
  line L4 (2009.775, 1828.8) -> (2009.775, 1714.5)
  line L5 (3048, 1828.8) -> (2009.775, 1828.8)
  line L6 (3048, 5486.4) -> (3048, 1828.8)
  line L7 (457.2, 5486.4) -> (3048, 5486.4)
  line L8 (457.2, 5638.8) -> (457.2, 5486.4)
  line L9 (609.6, 5638.8) -> (457.2, 5638.8)
  line L10 (609.6, 6096) -> (609.6, 5638.8)
  line L11 (-609.6, 6096) -> (609.6, 6096)
  line L12 (-609.6, 5638.8) -> (-609.6, 6096)
  line L13 (-457.2, 5638.8) -> (-609.6, 5638.8)
  line L14 (-457.2, 5486.4) -> (-457.2, 5638.8)
  line L15 (-3048, 5486.4) -> (-457.2, 5486.4)
  line L16 (-3048, 1828.8) -> (-3048, 5486.4)
  line L17 (-2009.775, 1828.8) -> (-3048, 1828.8)
  line L18 (-2009.775, 1714.5) -> (-2009.775, 1828.8)
  line L19 (-3048, 1714.5) -> (-2009.775, 1714.5)
  line L20 (-3048, -1714.5) -> (-3048, 1714.5)
  line L21 (-2009.775, -1714.5) -> (-3048, -1714.5)
  line L22 (-2009.775, -1828.8) -> (-2009.775, -1714.5)
  line L23 (-3048, -1828.8) -> (-2009.775, -1828.8)
  line L24 (-3048, -5486.4) -> (-3048, -1828.8)
  line L25 (-914.4, -5486.4) -> (-3048, -5486.4)
  line L26 (-914.4, -5638.8) -> (-914.4, -5486.4)
  line L27 (-1371.6, -5638.8) -> (-914.4, -5638.8)
  line L28 (-1371.6, -6096) -> (-1371.6, -5638.8)
  line L29 (1371.6, -6096) -> (-1371.6, -6096)
  line L30 (1371.6, -5638.8) -> (1371.6, -6096)
  line L31 (914.4, -5638.8) -> (1371.6, -5638.8)
  line L32 (914.4, -5486.4) -> (914.4, -5638.8)
  line L33 (3048, -5486.4) -> (914.4, -5486.4)
  line L34 (3048, -1828.8) -> (3048, -5486.4)
  line L35 (2009.775, -1828.8) -> (3048, -1828.8)
  line L36 (57.15, 1714.5) -> (1095.375, 1714.5)
  line L37 (57.15, 457.2) -> (57.15, 1714.5)
  line L38 (-57.15, 457.2) -> (57.15, 457.2)
  line L39 (-57.15, 1714.5) -> (-57.15, 457.2)
  line L40 (-1095.375, 1714.5) -> (-57.15, 1714.5)
  line L41 (-1095.375, 1828.8) -> (-1095.375, 1714.5)
  line L42 (1095.375, 1828.8) -> (-1095.375, 1828.8)
  line L43 (1095.375, 1714.5) -> (1095.375, 1828.8)
  line L44 (-1095.375, -1828.8) -> (1095.375, -1828.8)
  line L45 (-1095.375, -1714.5) -> (-1095.375, -1828.8)
  line L46 (-57.15, -1714.5) -> (-1095.375, -1714.5)
  line L47 (-57.15, -457.2) -> (-57.15, -1714.5)
  line L48 (57.15, -457.2) -> (-57.15, -457.2)
  line L49 (57.15, -1714.5) -> (57.15, -457.2)
  line L50 (1095.375, -1714.5) -> (57.15, -1714.5)
  line L51 (1095.375, -1828.8) -> (1095.375, -1714.5)
  line L52 (457.2, 5638.8) -> (746.3587, 6506.276)
  line L53 (746.3587, 6506.276) -> (637.9242, 6542.4208)
  line L54 (637.9242, 6542.4208) -> (348.7655, 5674.9448)
  line L55 (348.7655, 5674.9448) -> (457.2, 5638.8)
  line L56 (914.4, -5638.8) -> (1560.9784, -6285.3784)
  line L57 (1560.9784, -6285.3784) -> (1480.1561, -6366.2007)
  line L58 (1480.1561, -6366.2007) -> (833.5777, -5719.6223)
  line L59 (833.5777, -5719.6223) -> (914.4, -5638.8)
  line L60 (-914.4, -5638.8) -> (-1560.9784, -6285.3784)
  line L61 (-1560.9784, -6285.3784) -> (-1480.1561, -6366.2007)
  line L62 (-1480.1561, -6366.2007) -> (-833.5777, -5719.6223)
  line L63 (-833.5777, -5719.6223) -> (-914.4, -5638.8)
  point P0 (0, 0)
  dimension "d60" = 914.4
  dimension "d62" = 114.3
  dimension "d63" = 914.4
  dimension "d64" = 114.3
  dimension "d65" = 914.4
  dimension "d66" = 114.3
sketch "Instruments" plane through (0, 0, 0) normal (0, 1, 0) x (1, 0, 0)
  line L0 (3048, 5486.4) -> (3048, 1828.8)
  line L1 (457.2, 5486.4) -> (3048, 5486.4)
  line L2 (457.2, 5638.8) -> (457.2, 5486.4)
  line L3 (-914.4, -5638.8) -> (-914.4, -5486.4)
  line L4 (3048, -5486.4) -> (914.4, -5486.4)
  line L5 (458.4, 4876.8) -> (2438.4, 4876.8)
  line L6 (2438.4, 4876.8) -> (2438.4, 4216.8)
  line L7 (2438.4, 4216.8) -> (458.4, 4216.8)
  line L8 (458.4, 4216.8) -> (458.4, 4876.8)
  line L9 (0, 9124.1452) -> (0, -8947.9251)
  line L10 (-152.4, 5334) -> (-152.4, 5638.8)
  line L11 (-152.4, 5638.8) -> (152.4, 5638.8)
  line L12 (-152.4, 5334) -> (152.4, 5638.8)
  circle A0 centre (-1552.4, 3656) radius 152.4
  circle A1 centre (1547.6, 3656) radius 152.4
  circle A2 centre (1547.6, -4) radius 152.4
  circle A3 centre (-1552.4, -3654) radius 152.4
  circle A4 centre (1547.6, -3654) radius 152.4
  line L13 (-1552.4, 3808.4) -> (-1247.6, 3808.4)
  line L14 (-1247.6, 3808.4) -> (-1247.6, 3503.6)
  line L15 (-1247.6, 3503.6) -> (-1552.4, 3503.6)
  line L16 (-1552.4, 3503.6) -> (-1552.4, 3808.4)
  line L17 (3657.6, 6096) -> (3657.6, -6096)
  line L18 (1547.6, 3808.4) -> (1242.8, 3808.4)
  line L19 (1242.8, 3808.4) -> (1242.8, 3503.6)
  line L20 (1242.8, 3503.6) -> (1547.6, 3503.6)
  line L21 (1547.6, 3503.6) -> (1547.6, 3808.4)
  line L22 (-3657.6, 6096) -> (3657.6, 6096)
  line L23 (1547.6, 148.4) -> (1242.8, 148.4)
  line L24 (1242.8, 148.4) -> (1242.8, -156.4)
  line L25 (1242.8, -156.4) -> (1547.6, -156.4)
  line L26 (1547.6, -156.4) -> (1547.6, 148.4)
  line L27 (1547.6, -3501.6) -> (1242.8, -3501.6)
  line L28 (1242.8, -3501.6) -> (1242.8, -3806.4)
  line L29 (1242.8, -3806.4) -> (1547.6, -3806.4)
  line L30 (1547.6, -3806.4) -> (1547.6, -3501.6)
  line L31 (-1552.4, 3656) -> (-1640.3882, 3503.6)
  line L32 (-1640.3882, 3503.6) -> (-1816.3645, 3503.6)
  line L33 (-1816.3645, 3503.6) -> (-1904.3527, 3656)
  line L34 (-1904.3527, 3656) -> (-1816.3645, 3808.4)
  line L35 (-1816.3645, 3808.4) -> (-1640.3882, 3808.4)
  line L36 (-1640.3882, 3808.4) -> (-1552.4, 3656)
  line L37 (1547.6, -3654) -> (1635.5882, -3501.6)
  line L38 (1635.5882, -3501.6) -> (1811.5645, -3501.6)
  line L39 (1811.5645, -3501.6) -> (1899.5527, -3654)
  line L40 (1899.5527, -3654) -> (1811.5645, -3806.4)
  line L41 (1811.5645, -3806.4) -> (1635.5882, -3806.4)
  line L42 (1635.5882, -3806.4) -> (1547.6, -3654)
  line L43 (-1552.4, -3501.6) -> (-1247.6, -3501.6)
  line L44 (-1247.6, -3501.6) -> (-1247.6, -3806.4)
  line L45 (-1247.6, -3806.4) -> (-1552.4, -3806.4)
  line L46 (-1552.4, -3806.4) -> (-1552.4, -3501.6)
  line L47 (457.2, -5638.8) -> (458.4, -5638.8)
  line L48 (609.6, -5334) -> (304.8, -5334)
  line L49 (304.8, -5334) -> (304.8, -5638.8)
  line L50 (609.6, -5334) -> (304.8, -5638.8)
  line L51 (-304.8, -5334) -> (-609.6, -5334)
  line L52 (-609.6, -5334) -> (-609.6, -5638.8)
  line L53 (-304.8, -5334) -> (-609.6, -5638.8)
  point P0 (0, 0)
  point P1 (-1728.3764, 3656)
  point P2 (1723.5764, -3654)
  dimension "d83" = 304.8
  dimension "d84" = 304.8
  dimension "d85" = 304.8
  dimension "d86" = 304.8
  dimension "d87" = 304.8
  dimension "d73" = 1980
  dimension "d74" = 660
  dimension "d75" = 609.6
  dimension "d76" = 609.6
  dimension "d79" = 152.4
  dimension "d80" = 152.4
  dimension "d81" = 304.8
  dimension "d82" = 304.8
  dimension "d88" = 304.8
  dimension "d89" = 304.8
  dimension "d91" = 5210
  dimension "d92" = 304.8
  dimension "d93" = 304.8
  dimension "d94" = 2110
  dimension "d95" = 2440
  dimension "d96" = 2440
  dimension "d97" = 2110
  dimension "d98" = 6100
  dimension "d99" = 304.8
  dimension "d100" = 9750
  dimension "d101" = 2110
  dimension "d102" = 304.8
  dimension "d103" = 9750
  dimension "d104" = 5210
  dimension "d108" = 304.8
  dimension "d109" = 304.8
  dimension "d110" = 304.8
  dimension "d111" = 152.4
  dimension "d113" = 304.8
  dimension "d114" = 304.8
  dimension "d115" = 304.8
extrude "Extrusion11" add sketch "Instruments" along normal blind 25.4
sketch "Sketch11" plane through (0, 2438.4, 0) normal (0, 1, 0) x (1, 0, 0)
  line L0 (3657.6, -6096) -> (3657.6, 6096)
  line L1 (3657.6, 6096) -> (609.6, 6096)
  line L2 (965.2, 406.4) -> (2133.6, 406.4)
  line L3 (2133.6, 406.4) -> (2133.6, -762)
  line L4 (2133.6, -762) -> (965.2, -762)
  line L5 (965.2, -762) -> (965.2, 406.4)
  point P0 (0, 0)
  dimension "d67" = 5689.6
  dimension "d68" = 1524
  dimension "d69" = 1168.4
  dimension "d70" = 1168.4
properties part number "East_Structure"
